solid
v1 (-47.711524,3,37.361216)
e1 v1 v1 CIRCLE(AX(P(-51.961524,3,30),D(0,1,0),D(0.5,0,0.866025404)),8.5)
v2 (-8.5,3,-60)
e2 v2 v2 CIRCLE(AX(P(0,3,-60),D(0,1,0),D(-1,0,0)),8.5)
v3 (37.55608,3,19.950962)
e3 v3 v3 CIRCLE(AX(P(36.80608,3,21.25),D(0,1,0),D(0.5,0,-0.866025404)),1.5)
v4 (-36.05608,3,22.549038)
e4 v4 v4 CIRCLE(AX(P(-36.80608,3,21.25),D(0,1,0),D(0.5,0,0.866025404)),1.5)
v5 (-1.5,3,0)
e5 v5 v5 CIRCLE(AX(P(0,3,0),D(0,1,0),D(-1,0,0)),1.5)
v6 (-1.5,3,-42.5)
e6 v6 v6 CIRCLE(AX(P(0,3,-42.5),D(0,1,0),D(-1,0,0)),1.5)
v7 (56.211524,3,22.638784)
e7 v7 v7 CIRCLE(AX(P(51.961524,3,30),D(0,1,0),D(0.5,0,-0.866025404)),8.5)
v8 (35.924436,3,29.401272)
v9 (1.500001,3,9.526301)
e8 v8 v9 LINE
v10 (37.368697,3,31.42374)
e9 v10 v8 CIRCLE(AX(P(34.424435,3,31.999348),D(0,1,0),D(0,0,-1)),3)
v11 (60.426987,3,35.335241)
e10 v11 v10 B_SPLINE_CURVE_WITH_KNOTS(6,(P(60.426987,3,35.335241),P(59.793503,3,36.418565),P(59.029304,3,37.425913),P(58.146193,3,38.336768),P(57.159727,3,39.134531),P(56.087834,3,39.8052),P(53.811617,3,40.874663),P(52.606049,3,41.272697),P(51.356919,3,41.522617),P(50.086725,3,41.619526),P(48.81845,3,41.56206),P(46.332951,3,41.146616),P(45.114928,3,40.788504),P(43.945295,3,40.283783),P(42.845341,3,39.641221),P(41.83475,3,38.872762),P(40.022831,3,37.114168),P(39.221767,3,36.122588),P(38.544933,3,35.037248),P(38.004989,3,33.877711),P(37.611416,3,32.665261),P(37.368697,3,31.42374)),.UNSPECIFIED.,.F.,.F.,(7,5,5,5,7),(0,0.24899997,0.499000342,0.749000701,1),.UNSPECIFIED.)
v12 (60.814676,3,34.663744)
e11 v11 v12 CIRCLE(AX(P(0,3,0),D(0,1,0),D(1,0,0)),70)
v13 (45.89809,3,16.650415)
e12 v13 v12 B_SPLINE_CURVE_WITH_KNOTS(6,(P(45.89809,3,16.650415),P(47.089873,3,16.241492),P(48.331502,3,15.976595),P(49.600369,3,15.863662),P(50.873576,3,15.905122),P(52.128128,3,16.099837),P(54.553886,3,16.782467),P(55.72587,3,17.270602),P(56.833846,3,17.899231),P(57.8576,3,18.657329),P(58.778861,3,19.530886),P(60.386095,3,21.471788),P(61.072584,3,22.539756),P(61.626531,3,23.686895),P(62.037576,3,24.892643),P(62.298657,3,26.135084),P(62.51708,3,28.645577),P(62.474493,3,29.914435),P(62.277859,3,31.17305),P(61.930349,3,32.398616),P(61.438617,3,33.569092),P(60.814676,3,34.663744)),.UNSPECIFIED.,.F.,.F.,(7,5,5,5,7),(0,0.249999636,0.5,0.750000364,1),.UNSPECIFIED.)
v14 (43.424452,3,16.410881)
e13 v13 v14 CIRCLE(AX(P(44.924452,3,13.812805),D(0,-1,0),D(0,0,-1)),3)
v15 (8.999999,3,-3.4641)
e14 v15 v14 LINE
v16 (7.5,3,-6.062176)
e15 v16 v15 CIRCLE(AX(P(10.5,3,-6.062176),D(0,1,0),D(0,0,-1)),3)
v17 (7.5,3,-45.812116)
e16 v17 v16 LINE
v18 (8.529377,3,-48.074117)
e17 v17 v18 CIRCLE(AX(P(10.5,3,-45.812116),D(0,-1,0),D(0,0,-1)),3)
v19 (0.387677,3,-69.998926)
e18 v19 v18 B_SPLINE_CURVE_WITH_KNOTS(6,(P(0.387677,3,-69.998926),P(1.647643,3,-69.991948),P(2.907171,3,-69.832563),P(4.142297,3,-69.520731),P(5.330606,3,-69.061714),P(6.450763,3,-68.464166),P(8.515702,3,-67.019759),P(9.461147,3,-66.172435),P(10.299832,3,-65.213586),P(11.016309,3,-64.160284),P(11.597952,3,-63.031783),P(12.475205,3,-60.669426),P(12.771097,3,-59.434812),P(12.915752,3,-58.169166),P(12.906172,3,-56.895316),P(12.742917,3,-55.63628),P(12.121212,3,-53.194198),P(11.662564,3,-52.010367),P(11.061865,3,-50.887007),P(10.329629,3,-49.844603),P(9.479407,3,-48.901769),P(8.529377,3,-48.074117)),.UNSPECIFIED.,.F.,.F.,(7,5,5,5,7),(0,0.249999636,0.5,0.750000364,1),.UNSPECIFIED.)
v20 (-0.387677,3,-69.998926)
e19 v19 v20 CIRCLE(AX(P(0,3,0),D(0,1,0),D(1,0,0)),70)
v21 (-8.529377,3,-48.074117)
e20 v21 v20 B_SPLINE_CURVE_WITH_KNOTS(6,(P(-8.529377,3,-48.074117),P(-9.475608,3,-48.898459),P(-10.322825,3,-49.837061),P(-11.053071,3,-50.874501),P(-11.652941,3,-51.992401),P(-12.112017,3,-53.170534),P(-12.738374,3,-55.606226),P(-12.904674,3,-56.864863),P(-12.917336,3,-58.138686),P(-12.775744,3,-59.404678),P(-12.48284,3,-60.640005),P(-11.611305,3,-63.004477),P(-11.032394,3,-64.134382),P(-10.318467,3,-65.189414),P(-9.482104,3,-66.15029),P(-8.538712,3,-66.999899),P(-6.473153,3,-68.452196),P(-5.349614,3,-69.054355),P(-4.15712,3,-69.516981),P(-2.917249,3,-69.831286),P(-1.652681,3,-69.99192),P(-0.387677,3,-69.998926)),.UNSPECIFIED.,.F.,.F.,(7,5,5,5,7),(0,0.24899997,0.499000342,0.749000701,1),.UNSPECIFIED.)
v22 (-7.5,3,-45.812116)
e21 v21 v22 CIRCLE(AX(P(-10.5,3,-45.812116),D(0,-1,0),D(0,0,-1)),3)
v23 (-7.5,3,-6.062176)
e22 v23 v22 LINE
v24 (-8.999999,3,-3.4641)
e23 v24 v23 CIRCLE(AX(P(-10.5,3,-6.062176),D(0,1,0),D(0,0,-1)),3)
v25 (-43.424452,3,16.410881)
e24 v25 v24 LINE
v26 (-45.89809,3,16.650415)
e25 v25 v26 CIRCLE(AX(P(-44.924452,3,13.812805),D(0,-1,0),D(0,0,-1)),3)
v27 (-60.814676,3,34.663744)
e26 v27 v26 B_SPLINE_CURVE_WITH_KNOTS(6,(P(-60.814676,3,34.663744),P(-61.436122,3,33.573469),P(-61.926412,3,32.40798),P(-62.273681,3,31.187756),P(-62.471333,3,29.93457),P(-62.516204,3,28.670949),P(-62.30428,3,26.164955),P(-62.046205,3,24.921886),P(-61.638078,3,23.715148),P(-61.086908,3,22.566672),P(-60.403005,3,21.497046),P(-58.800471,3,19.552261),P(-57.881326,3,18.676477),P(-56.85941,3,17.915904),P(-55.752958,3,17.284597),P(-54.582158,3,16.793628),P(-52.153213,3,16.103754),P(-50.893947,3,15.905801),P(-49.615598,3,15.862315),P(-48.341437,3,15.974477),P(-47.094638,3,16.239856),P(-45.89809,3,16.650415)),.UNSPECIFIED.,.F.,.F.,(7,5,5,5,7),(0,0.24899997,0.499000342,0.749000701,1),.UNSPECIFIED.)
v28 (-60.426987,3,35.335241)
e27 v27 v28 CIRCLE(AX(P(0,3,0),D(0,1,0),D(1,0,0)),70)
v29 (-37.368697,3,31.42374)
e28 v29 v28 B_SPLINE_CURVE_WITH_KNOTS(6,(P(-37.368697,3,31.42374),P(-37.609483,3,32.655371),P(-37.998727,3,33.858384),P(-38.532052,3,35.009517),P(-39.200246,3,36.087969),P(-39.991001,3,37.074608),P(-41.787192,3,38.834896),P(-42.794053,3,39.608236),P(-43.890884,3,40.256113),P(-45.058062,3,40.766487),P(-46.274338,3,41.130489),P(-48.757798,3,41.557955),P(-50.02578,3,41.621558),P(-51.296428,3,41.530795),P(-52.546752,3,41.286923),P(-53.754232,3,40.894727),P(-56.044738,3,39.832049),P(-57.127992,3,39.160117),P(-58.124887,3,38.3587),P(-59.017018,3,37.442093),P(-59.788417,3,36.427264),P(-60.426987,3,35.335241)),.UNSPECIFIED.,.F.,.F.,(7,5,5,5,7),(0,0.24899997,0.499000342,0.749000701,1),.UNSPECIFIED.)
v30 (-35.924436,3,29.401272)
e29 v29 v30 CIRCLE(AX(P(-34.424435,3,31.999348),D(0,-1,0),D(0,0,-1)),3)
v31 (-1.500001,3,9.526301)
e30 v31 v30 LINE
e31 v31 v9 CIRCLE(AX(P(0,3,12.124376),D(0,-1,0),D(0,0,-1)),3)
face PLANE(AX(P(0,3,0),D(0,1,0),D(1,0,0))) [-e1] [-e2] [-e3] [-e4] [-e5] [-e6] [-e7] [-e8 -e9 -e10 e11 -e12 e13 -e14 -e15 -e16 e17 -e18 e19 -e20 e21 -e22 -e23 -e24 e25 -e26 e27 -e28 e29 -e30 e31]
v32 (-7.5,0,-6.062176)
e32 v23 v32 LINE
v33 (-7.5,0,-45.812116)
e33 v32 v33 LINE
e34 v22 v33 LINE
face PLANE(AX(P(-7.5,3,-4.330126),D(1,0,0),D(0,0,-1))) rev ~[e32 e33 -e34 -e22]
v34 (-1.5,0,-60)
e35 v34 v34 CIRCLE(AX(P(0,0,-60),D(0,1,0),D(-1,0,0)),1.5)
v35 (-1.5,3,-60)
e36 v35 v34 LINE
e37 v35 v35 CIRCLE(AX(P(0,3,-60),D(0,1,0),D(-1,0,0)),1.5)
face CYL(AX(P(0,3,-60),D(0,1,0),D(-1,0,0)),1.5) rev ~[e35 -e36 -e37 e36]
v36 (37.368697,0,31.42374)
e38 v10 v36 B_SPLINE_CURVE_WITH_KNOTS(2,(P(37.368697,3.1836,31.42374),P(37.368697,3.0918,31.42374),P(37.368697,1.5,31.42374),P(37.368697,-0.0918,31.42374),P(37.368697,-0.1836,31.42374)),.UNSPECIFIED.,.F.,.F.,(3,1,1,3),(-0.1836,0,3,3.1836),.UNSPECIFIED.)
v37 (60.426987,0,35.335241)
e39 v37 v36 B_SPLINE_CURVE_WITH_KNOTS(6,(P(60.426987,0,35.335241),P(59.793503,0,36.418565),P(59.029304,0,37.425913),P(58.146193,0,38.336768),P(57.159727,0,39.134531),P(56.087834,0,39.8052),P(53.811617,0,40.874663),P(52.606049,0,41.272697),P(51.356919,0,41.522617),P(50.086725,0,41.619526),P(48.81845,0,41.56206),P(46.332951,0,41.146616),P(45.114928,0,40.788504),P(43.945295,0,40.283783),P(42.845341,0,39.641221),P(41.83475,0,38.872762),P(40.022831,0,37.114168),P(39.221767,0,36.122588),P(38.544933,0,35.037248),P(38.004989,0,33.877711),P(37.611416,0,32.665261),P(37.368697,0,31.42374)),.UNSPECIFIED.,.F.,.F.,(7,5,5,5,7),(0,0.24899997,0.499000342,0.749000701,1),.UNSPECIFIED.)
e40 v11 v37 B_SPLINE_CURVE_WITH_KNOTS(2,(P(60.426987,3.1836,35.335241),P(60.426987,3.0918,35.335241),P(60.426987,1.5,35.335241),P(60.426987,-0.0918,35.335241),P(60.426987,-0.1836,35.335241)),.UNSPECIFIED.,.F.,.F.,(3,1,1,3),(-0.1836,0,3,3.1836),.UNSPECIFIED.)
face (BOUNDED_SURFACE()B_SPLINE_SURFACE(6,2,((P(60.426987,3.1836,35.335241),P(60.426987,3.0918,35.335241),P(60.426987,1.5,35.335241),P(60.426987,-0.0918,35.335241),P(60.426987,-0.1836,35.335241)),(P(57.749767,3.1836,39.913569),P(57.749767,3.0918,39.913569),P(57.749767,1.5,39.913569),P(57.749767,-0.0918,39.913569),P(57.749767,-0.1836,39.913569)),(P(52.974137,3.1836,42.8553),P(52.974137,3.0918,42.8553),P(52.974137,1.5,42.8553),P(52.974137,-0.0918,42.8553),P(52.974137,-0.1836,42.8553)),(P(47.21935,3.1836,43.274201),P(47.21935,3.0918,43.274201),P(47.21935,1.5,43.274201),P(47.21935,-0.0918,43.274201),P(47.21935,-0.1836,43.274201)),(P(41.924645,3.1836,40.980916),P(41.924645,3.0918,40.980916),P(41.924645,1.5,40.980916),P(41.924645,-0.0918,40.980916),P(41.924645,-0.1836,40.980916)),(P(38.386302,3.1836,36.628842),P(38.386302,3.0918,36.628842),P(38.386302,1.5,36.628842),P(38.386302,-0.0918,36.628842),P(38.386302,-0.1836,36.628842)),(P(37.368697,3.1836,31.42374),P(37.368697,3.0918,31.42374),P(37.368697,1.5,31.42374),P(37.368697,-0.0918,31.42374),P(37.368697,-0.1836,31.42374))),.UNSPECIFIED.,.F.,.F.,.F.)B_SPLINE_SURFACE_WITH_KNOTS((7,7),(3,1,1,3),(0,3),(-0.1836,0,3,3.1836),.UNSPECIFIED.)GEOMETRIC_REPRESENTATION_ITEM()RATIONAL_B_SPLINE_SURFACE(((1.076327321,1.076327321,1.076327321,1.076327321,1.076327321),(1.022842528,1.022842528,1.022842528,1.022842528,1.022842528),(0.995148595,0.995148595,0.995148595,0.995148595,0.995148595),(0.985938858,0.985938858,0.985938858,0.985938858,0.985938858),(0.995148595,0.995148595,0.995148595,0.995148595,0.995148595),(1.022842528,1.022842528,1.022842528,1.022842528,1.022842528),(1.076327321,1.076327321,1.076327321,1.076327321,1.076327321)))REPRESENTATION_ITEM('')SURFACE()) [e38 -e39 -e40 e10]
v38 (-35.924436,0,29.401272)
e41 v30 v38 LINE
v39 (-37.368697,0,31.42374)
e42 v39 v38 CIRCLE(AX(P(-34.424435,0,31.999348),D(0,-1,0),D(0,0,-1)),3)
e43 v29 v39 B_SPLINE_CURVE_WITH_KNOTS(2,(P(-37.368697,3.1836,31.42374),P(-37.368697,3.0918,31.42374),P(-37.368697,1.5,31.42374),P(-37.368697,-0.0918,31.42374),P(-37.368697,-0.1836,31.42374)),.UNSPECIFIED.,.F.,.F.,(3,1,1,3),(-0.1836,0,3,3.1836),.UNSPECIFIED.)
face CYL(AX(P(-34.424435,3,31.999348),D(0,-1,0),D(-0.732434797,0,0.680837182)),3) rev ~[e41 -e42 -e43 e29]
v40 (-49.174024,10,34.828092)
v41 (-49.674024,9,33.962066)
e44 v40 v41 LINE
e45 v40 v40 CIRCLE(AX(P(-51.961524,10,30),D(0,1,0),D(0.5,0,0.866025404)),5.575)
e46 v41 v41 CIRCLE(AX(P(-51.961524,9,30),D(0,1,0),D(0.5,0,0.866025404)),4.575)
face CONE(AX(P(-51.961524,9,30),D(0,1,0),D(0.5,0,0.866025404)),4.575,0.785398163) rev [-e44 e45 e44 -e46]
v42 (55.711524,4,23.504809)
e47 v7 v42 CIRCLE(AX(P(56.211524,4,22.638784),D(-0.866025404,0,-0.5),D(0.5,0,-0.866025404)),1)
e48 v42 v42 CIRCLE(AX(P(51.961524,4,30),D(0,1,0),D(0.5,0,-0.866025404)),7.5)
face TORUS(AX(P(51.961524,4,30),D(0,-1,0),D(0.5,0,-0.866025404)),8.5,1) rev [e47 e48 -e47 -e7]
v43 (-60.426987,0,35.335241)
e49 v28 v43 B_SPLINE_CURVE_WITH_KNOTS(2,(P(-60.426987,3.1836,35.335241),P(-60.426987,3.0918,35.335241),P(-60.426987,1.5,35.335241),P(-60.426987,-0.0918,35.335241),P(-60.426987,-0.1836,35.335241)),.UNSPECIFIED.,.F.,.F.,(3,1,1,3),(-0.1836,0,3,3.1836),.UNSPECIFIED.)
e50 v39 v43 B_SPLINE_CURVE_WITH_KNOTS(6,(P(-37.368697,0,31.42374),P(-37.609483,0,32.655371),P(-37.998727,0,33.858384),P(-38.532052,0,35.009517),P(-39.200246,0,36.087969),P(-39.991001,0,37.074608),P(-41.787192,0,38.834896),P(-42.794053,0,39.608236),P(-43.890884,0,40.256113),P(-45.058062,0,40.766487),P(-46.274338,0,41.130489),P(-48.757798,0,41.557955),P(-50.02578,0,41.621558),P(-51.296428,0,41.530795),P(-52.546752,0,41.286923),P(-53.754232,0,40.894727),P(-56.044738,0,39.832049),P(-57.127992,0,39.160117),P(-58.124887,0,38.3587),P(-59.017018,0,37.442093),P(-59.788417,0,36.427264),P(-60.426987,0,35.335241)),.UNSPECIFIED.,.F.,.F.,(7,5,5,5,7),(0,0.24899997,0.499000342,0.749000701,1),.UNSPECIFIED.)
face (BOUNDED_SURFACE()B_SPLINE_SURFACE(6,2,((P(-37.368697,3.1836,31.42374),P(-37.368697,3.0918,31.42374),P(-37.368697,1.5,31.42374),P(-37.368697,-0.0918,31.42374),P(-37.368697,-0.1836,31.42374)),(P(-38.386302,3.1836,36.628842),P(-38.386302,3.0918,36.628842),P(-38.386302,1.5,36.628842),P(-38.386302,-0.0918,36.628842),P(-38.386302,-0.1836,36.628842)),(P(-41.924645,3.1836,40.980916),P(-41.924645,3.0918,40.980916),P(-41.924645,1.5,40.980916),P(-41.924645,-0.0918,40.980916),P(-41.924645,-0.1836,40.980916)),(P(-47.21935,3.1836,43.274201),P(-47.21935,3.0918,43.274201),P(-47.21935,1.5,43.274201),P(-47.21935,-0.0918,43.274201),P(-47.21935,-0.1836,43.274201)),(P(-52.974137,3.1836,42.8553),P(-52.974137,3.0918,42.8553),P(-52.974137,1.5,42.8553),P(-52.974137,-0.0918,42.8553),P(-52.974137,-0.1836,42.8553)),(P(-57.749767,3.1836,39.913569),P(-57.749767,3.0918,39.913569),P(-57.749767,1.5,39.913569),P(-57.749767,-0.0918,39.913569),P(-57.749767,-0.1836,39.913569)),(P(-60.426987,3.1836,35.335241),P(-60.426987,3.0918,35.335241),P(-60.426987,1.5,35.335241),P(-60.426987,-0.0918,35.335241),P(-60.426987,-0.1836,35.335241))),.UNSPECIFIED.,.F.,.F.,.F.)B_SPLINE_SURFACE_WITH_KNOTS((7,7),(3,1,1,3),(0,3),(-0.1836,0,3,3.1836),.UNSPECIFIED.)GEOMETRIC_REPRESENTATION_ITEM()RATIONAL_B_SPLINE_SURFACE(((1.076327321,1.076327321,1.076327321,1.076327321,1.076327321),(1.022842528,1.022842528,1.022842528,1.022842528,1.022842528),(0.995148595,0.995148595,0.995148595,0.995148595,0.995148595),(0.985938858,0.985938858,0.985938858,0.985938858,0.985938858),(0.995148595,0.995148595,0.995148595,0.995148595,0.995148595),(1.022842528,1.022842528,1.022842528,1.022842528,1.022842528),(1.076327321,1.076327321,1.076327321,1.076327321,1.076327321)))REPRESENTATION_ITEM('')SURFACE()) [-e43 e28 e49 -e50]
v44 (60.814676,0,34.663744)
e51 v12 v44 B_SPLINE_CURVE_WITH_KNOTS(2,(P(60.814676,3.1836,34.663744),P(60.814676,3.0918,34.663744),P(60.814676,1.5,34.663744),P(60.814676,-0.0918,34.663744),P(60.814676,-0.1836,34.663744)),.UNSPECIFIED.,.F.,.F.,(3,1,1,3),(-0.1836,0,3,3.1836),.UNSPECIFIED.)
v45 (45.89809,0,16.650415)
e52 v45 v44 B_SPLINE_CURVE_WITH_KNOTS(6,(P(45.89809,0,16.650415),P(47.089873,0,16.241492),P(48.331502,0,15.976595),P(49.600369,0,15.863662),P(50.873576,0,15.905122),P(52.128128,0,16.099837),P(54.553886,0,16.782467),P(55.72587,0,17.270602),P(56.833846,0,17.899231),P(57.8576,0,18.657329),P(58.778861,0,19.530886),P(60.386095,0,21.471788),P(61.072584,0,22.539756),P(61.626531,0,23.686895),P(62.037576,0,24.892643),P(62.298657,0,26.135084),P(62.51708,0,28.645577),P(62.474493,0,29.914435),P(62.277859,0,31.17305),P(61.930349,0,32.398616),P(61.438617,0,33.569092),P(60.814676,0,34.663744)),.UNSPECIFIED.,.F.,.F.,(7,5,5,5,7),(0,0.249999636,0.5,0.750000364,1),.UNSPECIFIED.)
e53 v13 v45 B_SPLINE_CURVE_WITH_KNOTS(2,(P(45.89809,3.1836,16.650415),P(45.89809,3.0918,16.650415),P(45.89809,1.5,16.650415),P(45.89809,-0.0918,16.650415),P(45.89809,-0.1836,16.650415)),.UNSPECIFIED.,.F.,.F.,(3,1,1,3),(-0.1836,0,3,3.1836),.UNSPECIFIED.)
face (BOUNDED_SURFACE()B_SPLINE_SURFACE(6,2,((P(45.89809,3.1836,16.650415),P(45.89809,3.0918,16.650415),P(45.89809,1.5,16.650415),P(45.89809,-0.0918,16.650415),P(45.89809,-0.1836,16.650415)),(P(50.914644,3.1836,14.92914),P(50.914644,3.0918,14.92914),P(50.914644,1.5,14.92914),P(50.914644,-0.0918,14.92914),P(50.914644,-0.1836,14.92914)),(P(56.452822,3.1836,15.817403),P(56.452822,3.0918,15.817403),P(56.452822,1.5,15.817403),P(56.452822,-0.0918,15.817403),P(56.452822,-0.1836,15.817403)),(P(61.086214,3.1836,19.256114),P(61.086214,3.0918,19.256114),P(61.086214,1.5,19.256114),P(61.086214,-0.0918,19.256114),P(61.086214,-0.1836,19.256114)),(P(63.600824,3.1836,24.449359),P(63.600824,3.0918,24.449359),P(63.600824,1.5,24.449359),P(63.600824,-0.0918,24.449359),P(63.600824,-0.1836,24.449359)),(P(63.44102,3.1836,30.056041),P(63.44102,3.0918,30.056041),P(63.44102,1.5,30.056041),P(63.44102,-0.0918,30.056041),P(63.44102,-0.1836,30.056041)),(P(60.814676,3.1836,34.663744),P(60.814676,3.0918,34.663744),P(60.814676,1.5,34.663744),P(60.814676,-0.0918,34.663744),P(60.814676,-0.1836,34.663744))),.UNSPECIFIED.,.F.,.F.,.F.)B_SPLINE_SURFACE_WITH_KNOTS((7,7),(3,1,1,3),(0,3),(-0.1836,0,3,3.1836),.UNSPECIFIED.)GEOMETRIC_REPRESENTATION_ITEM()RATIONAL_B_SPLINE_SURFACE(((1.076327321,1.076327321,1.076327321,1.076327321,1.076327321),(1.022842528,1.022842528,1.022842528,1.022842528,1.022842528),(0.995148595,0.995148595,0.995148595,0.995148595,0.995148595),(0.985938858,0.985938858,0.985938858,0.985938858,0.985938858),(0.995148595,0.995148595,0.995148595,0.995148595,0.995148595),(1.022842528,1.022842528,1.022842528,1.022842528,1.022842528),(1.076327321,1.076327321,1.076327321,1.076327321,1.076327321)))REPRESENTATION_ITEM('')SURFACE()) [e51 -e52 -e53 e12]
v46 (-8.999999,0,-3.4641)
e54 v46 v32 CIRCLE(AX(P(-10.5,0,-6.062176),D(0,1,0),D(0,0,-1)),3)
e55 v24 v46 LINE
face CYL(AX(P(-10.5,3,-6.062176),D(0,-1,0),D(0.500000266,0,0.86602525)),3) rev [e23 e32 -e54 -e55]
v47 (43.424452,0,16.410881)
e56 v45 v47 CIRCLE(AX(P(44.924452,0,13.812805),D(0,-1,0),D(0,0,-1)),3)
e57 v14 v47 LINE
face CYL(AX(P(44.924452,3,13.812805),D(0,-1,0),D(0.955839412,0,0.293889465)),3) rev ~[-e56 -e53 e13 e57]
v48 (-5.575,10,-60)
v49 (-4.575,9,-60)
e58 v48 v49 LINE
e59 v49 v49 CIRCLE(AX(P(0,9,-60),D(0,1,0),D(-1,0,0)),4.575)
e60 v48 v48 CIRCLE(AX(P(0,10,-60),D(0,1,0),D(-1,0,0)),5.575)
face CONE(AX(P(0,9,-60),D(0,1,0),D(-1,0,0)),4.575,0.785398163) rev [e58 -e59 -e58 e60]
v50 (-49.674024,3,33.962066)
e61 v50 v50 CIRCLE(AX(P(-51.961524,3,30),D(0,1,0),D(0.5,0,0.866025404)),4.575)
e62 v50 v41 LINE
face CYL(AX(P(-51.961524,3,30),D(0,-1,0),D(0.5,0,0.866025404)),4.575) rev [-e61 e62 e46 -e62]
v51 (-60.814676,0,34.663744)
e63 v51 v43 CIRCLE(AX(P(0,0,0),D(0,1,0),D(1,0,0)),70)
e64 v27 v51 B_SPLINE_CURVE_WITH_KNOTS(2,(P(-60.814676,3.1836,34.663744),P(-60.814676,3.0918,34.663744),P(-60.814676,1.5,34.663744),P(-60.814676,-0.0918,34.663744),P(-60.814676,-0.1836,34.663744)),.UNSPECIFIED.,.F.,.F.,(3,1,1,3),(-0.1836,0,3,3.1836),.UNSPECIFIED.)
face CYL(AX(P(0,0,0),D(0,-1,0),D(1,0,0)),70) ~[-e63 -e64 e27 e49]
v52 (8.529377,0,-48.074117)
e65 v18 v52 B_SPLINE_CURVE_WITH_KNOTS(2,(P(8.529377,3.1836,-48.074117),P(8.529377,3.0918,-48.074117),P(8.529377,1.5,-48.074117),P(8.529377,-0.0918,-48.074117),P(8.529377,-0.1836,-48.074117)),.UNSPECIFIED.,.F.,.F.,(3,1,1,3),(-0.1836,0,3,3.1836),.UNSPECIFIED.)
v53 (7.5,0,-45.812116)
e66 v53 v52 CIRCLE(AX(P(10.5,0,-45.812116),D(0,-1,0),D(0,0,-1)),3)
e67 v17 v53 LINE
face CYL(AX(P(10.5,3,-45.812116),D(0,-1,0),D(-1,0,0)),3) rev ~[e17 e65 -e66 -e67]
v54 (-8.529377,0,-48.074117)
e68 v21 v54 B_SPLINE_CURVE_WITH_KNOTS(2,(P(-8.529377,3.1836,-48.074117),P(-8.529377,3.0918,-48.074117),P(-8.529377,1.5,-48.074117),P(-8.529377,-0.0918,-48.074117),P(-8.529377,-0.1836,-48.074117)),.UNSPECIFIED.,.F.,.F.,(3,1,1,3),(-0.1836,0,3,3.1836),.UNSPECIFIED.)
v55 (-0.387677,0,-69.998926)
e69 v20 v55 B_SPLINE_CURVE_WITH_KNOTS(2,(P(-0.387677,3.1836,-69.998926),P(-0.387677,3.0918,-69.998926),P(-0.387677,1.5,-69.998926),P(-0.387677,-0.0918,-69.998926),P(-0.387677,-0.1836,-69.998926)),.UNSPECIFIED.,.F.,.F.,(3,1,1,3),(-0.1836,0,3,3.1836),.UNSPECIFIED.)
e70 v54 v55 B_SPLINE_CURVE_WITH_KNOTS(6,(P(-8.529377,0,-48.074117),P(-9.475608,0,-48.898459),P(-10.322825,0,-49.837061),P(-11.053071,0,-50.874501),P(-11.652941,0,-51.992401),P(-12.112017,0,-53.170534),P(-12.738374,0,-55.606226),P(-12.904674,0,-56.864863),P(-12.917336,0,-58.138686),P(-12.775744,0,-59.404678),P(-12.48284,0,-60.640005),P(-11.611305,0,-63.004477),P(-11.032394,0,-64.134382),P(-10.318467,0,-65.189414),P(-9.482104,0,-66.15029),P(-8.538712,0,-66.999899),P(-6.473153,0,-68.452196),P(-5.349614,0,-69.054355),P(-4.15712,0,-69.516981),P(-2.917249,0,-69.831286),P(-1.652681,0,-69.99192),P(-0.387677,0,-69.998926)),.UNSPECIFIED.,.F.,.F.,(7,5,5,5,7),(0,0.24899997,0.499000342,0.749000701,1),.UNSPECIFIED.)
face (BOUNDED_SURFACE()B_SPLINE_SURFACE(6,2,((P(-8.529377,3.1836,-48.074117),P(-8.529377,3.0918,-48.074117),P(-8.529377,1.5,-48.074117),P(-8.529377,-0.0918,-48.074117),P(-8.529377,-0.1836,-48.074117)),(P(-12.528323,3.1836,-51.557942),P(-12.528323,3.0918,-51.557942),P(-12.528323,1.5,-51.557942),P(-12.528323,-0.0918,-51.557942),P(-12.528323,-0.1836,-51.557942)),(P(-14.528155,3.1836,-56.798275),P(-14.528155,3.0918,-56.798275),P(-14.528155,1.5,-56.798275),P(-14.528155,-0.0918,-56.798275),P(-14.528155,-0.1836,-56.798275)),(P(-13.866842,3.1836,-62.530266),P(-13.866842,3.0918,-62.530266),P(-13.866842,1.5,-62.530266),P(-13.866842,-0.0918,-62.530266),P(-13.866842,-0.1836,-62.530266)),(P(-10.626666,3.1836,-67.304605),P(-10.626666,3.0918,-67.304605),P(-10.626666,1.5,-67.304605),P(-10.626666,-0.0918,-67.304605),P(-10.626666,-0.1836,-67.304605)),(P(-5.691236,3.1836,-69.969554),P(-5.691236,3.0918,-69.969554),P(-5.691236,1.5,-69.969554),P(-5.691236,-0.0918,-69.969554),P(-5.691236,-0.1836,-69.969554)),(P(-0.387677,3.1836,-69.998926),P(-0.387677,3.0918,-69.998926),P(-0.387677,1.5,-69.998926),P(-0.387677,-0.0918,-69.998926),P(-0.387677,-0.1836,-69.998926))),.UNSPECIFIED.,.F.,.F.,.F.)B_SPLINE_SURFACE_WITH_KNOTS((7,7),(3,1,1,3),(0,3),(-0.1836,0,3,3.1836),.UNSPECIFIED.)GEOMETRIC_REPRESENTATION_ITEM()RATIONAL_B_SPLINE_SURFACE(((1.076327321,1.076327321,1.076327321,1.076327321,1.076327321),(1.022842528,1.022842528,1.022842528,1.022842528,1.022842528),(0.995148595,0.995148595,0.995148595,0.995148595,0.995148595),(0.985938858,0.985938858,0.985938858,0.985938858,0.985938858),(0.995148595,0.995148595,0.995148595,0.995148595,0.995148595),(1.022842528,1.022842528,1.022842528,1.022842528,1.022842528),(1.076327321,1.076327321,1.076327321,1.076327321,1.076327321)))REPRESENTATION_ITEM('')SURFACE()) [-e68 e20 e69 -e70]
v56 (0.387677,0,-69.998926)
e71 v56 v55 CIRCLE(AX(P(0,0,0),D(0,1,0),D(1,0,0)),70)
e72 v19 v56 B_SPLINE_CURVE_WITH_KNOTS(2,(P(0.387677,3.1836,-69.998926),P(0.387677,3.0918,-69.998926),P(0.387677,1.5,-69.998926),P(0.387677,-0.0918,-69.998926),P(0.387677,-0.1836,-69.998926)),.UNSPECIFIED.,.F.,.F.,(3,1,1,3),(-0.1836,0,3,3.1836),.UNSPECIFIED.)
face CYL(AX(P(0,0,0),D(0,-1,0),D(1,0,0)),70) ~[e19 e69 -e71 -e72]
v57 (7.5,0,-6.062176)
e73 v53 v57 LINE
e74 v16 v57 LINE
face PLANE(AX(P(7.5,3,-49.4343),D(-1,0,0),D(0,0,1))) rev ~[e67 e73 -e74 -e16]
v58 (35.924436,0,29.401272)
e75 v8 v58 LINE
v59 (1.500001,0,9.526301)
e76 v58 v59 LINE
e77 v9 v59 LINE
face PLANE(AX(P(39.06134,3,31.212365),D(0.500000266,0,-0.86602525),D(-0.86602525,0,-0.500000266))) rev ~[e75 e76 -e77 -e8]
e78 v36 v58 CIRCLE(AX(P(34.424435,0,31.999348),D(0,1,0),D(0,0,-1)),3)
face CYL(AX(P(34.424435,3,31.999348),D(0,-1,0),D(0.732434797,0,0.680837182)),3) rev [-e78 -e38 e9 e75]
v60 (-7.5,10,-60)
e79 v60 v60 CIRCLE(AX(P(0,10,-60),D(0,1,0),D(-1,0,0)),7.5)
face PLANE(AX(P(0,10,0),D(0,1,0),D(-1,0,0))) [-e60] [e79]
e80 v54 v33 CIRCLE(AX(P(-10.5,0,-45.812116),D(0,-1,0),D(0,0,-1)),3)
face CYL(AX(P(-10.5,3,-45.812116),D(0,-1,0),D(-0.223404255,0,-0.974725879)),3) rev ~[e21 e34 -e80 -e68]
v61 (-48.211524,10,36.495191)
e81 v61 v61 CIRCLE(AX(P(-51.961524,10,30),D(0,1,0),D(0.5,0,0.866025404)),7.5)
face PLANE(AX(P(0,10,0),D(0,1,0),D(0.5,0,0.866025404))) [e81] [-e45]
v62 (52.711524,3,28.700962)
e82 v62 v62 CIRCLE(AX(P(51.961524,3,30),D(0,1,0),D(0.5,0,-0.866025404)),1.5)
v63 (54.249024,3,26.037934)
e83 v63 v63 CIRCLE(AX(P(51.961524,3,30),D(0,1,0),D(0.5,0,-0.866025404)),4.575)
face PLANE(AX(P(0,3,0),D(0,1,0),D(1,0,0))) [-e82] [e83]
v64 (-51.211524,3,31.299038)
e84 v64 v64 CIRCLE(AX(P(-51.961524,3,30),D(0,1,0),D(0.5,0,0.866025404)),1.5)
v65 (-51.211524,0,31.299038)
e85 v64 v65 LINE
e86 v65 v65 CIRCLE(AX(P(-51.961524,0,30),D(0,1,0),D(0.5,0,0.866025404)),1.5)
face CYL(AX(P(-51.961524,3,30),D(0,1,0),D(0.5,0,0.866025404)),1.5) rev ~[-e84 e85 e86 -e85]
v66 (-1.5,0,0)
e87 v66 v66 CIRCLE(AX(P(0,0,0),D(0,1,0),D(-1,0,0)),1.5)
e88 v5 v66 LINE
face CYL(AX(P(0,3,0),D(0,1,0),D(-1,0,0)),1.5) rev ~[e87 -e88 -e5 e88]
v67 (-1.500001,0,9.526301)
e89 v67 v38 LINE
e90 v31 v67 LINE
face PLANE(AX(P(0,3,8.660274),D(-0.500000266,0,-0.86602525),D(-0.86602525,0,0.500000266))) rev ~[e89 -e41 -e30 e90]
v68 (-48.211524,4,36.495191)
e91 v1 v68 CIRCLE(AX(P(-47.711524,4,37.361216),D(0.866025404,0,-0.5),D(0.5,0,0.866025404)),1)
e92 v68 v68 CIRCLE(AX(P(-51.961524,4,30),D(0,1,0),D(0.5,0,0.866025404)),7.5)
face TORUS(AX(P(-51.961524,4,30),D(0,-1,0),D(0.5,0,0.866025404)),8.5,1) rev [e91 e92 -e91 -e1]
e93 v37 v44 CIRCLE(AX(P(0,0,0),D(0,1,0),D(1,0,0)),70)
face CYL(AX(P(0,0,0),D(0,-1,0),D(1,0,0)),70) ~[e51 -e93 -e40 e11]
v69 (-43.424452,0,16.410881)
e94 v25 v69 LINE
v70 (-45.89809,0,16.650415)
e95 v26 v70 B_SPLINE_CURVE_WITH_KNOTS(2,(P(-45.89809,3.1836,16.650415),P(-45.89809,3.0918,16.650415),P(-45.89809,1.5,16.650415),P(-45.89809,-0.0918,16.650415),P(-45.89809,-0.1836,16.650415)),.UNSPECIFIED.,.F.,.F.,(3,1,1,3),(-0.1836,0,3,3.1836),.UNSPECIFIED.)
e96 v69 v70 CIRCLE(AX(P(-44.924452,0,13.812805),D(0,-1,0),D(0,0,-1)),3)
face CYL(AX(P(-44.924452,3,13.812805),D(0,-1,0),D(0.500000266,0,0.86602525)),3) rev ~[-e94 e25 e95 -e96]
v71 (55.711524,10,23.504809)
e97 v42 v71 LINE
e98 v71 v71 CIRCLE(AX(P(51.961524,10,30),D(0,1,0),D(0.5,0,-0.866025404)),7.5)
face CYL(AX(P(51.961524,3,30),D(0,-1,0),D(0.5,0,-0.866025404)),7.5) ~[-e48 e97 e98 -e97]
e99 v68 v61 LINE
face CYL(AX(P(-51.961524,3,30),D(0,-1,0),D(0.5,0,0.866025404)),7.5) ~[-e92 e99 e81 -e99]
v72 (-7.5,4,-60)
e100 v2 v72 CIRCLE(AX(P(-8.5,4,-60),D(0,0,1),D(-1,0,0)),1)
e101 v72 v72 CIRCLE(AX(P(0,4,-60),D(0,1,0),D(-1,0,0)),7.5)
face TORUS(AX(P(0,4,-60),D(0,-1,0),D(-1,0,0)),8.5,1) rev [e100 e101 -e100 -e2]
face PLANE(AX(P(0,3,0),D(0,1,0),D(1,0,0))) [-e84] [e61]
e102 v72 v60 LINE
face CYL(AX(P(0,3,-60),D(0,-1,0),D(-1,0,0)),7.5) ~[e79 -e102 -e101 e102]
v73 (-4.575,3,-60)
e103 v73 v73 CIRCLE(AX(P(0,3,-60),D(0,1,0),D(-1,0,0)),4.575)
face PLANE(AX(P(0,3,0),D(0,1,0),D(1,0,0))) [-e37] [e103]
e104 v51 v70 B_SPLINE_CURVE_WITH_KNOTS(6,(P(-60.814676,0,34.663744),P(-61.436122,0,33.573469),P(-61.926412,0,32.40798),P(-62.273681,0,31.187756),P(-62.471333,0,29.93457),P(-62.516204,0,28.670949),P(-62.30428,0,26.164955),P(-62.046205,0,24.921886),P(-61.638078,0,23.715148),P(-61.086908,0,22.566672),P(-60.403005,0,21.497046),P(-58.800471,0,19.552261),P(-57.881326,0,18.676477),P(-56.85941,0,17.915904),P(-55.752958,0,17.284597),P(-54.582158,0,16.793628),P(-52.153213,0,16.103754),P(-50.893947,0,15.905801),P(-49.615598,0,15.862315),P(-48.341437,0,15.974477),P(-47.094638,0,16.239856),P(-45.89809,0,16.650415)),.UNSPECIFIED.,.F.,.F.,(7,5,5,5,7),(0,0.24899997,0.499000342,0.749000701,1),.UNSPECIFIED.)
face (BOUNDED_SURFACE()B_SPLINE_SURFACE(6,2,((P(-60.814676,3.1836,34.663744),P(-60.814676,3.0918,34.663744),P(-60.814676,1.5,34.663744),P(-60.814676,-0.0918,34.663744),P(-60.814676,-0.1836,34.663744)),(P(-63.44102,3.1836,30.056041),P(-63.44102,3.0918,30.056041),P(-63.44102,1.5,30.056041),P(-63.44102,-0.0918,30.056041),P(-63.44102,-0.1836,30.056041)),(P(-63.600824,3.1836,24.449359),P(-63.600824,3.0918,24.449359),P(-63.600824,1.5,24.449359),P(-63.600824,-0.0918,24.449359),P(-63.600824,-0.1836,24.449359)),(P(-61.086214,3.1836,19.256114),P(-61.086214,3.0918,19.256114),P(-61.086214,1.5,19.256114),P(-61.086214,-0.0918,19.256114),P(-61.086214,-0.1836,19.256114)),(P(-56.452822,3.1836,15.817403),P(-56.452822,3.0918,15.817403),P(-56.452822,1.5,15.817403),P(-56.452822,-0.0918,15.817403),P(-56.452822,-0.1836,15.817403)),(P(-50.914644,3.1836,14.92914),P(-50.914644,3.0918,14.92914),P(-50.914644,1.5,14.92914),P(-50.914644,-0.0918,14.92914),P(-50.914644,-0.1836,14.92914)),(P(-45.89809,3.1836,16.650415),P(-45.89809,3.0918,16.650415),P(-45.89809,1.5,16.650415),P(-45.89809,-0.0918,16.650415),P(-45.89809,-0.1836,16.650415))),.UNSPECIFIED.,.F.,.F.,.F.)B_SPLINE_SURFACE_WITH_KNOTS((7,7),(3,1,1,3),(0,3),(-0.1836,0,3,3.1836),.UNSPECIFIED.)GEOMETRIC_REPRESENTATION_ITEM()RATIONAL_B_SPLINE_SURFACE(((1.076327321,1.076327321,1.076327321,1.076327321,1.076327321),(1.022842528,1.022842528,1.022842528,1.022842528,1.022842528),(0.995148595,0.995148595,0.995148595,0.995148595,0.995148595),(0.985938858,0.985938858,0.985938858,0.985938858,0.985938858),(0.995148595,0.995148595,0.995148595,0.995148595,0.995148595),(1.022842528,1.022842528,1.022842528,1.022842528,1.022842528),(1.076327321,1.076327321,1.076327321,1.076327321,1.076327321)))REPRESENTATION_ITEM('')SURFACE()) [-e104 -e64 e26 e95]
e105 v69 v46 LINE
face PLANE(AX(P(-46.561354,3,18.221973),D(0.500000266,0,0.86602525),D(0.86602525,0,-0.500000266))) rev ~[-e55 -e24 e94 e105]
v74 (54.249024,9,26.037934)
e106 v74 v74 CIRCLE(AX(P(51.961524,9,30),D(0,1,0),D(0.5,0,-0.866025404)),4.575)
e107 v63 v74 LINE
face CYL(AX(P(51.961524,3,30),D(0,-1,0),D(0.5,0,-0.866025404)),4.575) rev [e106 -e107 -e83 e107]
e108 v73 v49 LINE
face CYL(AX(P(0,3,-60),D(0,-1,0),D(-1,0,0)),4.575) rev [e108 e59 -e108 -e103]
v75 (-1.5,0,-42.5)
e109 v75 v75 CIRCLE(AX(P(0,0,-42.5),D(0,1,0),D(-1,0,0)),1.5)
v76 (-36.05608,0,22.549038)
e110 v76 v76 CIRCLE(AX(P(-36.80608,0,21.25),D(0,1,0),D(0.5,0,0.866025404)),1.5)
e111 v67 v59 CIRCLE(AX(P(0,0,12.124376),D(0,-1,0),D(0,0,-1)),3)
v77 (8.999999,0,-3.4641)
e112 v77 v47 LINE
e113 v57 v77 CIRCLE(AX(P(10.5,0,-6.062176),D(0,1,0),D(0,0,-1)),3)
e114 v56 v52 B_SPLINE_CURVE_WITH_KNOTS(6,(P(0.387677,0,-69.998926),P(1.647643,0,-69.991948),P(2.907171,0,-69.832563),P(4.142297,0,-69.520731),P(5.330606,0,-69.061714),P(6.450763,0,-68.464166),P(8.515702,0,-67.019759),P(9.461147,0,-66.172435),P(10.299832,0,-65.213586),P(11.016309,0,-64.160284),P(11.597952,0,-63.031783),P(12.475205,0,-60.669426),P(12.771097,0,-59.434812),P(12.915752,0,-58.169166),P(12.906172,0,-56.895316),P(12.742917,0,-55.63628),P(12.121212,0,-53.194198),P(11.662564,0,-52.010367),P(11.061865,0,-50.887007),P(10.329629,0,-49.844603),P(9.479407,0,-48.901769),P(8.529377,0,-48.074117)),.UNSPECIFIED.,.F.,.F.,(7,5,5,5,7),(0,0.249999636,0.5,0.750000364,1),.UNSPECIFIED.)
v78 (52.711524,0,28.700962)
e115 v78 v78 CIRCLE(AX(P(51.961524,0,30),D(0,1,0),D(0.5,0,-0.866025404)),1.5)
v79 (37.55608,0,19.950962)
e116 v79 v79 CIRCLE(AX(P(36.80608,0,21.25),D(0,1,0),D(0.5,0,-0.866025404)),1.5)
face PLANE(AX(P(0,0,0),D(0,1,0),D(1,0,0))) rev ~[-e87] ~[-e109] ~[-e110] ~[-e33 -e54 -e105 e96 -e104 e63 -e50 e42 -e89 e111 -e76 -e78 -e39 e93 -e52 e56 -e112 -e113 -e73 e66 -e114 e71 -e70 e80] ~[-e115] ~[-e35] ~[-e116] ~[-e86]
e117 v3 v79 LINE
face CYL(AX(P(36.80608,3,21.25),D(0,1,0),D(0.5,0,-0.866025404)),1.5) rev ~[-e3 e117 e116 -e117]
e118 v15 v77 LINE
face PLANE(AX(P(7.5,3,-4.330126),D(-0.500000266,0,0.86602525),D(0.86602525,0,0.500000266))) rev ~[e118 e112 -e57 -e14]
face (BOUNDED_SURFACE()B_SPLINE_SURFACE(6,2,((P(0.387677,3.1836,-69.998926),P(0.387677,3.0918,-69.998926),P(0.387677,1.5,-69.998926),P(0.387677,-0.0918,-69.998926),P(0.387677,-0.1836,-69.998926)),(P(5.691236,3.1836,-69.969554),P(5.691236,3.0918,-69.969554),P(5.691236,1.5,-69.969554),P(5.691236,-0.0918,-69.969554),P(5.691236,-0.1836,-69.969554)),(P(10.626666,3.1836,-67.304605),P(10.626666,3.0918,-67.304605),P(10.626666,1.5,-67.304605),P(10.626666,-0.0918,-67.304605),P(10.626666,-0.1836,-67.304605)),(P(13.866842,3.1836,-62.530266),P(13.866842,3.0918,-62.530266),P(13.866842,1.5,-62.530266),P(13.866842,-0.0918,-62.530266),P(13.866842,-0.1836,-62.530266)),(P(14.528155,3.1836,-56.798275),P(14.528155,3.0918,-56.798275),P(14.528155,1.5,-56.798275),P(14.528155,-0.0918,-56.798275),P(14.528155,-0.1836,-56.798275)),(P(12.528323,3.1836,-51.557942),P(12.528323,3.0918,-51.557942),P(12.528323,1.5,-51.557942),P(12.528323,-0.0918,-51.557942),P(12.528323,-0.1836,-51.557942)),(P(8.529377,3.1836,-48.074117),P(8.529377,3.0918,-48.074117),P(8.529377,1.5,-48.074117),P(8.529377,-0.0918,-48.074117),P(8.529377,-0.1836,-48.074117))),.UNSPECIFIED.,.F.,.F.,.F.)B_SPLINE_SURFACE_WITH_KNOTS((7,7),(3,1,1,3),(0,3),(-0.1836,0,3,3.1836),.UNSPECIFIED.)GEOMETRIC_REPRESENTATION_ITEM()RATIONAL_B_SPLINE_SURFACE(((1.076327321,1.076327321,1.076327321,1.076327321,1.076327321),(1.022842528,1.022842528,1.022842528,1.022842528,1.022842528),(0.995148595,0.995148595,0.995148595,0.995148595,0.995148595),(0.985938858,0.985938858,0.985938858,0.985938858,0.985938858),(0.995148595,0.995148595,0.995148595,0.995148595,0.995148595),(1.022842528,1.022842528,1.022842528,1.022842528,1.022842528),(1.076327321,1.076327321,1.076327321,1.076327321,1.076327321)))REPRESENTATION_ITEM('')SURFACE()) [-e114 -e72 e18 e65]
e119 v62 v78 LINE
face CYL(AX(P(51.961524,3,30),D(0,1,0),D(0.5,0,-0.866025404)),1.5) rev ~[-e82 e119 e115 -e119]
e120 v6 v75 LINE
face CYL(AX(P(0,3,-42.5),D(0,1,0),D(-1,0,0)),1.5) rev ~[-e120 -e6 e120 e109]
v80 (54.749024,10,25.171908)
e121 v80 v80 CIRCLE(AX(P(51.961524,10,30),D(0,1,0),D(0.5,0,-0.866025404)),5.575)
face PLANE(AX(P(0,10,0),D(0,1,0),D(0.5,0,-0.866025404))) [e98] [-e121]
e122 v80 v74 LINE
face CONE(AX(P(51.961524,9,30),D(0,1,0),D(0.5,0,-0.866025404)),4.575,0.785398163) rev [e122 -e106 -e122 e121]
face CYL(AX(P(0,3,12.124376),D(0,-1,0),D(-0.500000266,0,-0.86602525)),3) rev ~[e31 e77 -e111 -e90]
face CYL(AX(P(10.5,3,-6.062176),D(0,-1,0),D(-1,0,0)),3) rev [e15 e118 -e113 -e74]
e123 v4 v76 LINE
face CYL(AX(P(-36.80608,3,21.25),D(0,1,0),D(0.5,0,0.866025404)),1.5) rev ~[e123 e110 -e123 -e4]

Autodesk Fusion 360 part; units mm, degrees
sketch "Sketch1" plane through (0, 0, 0) normal (0, 1, 0) x (1, 0, 0)
  circle A0 centre (0, 0) radius 70
  dimension "d1" = 140
extrude "Extrude1" add sketch "Sketch1" along normal blind 3
sketch "Sketch2" plane through (0, 3, 0) normal (0, 1, 0) x (-1, 0, 0)
  circle A0 centre (0, 0) radius 70
  line L0 (0, -70) -> (0, 70) construction
  line L1 (70, 0) -> (-70, 0) construction
  circle A1 centre (0, 0) radius 60 construction
  circle A2 centre (0, -60) radius 4.575
  circle A3 centre (0, -60) radius 7.5
  circle A4 centre (0, 60) radius 1.5
  dimension "d4" = 120
  dimension "d5" = 9.15
  dimension "d6" = 15
  dimension "d16" = 3
extrude "Extrude2" add sketch "Sketch2" along normal blind 7 contours A3
sketch "Sketch3" plane through (0, 3, 0) normal (0, 1, 0) x (-1, 0, 0)
  circle A0 centre (0, -60) radius 4.575
  circle A1 centre (0, -60) radius 1.5
  dimension "d9" = 3
extrude "Extrude3" cut sketch "Sketch3" against normal blind 25 contours A1
pattern_circular "C-Pattern1" count 3 over 360 about axis through (0, 1.75, 0) along (0, 1, 0) of "Extrude2"
pattern_circular "C-Pattern2" count 3 over 360 about axis through (0, 1.75, 0) along (0, 1, 0) of "Extrude3"
extrude "Extrude4" cut sketch "Sketch2" against normal blind 19 contours A4
pattern_circular "C-Pattern3" count 3 over 360 about axis through (0, 1.75, 0) along (0, 1, 0) of "Extrude4"
sketch "Sketch4" plane through (0, 3, 0) normal (0, 1, 0) x (-1, 0, 0)
  circle A0 centre (51.9615, -30) radius 1.5
  circle A1 centre (-51.9615, -30) radius 1.5
  circle A2 centre (0, 60) radius 1.5
  circle A3 centre (51.9615, 30) radius 7.5
  circle A4 centre (0, 0) radius 70
  circle A5 centre (0, -60) radius 7.5
  circle A6 centre (-51.9615, 30) radius 7.5
  circle A7 centre (0, 0) radius 7.5
  circle A8 centre (0, 0) radius 50
  line L0 (7.5, -50.9302) -> (-7.5, -50.9302)
  line L1 (-7.5, -50.9302) -> (-7.5, -2.3436)
  line L2 (-7.5, -2.3436) -> (7.5, -2.3436)
  line L3 (7.5, -2.3436) -> (7.5, -50.9302)
  line L4 (7.5, -50.9302) -> (-7.5, -2.3436) construction
  line L5 (-7.5, -50.9302) -> (7.5, -2.3436) construction
  line L6 (-1.7204, 7.667) -> (40.3568, 31.9603)
  line L7 (47.8568, 18.9699) -> (5.7796, -5.3234)
  line L8 (-5.7796, -5.3234) -> (-47.8568, 18.9699)
  line L9 (-40.3568, 31.9603) -> (1.7204, 7.667)
  point P0 (0, -26.6369)
  dimension "d21" = 15
  dimension "d22" = 100
  dimension "d23" = 15
  dimension "d25" = 360
extrude "Extrude5" cut sketch "Sketch4" against normal blind 7 contours A8 L1 L8 | A8 L3 L7 | A8 L6 L9
sketch "Sketch5" plane through (0, 3, 0) normal (0, 1, 0) x (-1, 0, 0)
  line L0 (7.5, -4.3301) -> (46.5614, 18.222)
  arc A0 (7.5, -49.4343) -> (46.5614, 18.222) centre (0, 0) ccw
  line L1 (7.5, -49.4343) -> (7.5, -4.3301)
  line L2 (-46.5614, 18.222) -> (-7.5, -4.3301)
  line L3 (-7.5, -4.3301) -> (-7.5, -49.4343)
  arc A1 (-46.5614, 18.222) -> (-7.5, -49.4343) centre (0, 0) ccw
  line L4 (0, 8.6603) -> (-39.0614, 31.2123)
  arc A2 (39.0614, 31.2123) -> (-39.0614, 31.2123) centre (0, 0) ccw
  line L5 (39.0614, 31.2123) -> (0, 8.6603)
  circle A3 centre (51.9615, -30) radius 1.5
  circle A4 centre (-51.9615, -30) radius 1.5
  circle A5 centre (0, 60) radius 1.5
  circle A6 centre (51.9615, 30) radius 7.5
  circle A7 centre (0, 0) radius 70
  circle A8 centre (0, -60) radius 7.5
  circle A9 centre (-51.9615, 30) radius 7.5
  circle A10 centre (0, 0) radius 42.5 construction
  circle A11 centre (0, -42.5) radius 1.5
  dimension "d28" = 85
  dimension "d29" = 3
extrude "Extrude6" cut sketch "Sketch5" against normal blind 16 contours A11
pattern_circular "C-Pattern4" count 3 over 360 about axis through (0, 1.75, 0) along (0, 1, 0) of "Extrude6"
fillet "Fillet1" radius 3 6 edges at (-7.5, 1.5, -49.4343) (7.5, 1.5, -49.4343) (-46.5614, 1.5, 18.222) (-39.0614, 1.5, 31.2123) (39.0614, 1.5, 31.2123) (46.5614, 1.5, 18.222)
sketch "Sketch6" plane through (0, 3, 0) normal (0, 1, 0) x (-1, 0, 0)
  circle A0 centre (-36.8061, 21.25) radius 1.5
  circle A1 centre (36.8061, 21.25) radius 1.5
  circle A2 centre (0, -42.5) radius 1.5
  line L0 (7.5, -4.3301) -> (43.4245, 16.4109)
  arc A3 (47.792, 14.6945) -> (43.4245, 16.4109) centre (44.9245, 13.8128) ccw
  arc A4 (11.1702, -48.7363) -> (47.792, 14.6945) centre (0, 0) ccw
  arc A5 (7.5, -45.8121) -> (11.1702, -48.7363) centre (10.5, -45.8121) ccw
  line L1 (7.5, -45.8121) -> (7.5, -4.3301)
  line L2 (-43.4245, 16.4109) -> (-7.5, -4.3301)
  line L3 (-7.5, -4.3301) -> (-7.5, -45.8121)
  arc A6 (-11.1702, -48.7363) -> (-7.5, -45.8121) centre (-10.5, -45.8121) ccw
  arc A7 (-47.792, 14.6945) -> (-11.1702, -48.7363) centre (0, 0) ccw
  arc A8 (-43.4245, 16.4109) -> (-47.792, 14.6945) centre (-44.9245, 13.8128) ccw
  line L4 (0, 8.6603) -> (-35.9245, 29.4012)
  arc A9 (-36.6218, 34.0418) -> (-35.9245, 29.4012) centre (-34.4245, 31.9993) ccw
  arc A10 (36.6218, 34.0418) -> (-36.6218, 34.0418) centre (0, 0) ccw
  arc A11 (35.9245, 29.4012) -> (36.6218, 34.0418) centre (34.4245, 31.9993) ccw
  line L5 (35.9245, 29.4012) -> (0, 8.6603)
  circle A12 centre (51.9615, -30) radius 1.5
  circle A13 centre (-51.9615, -30) radius 1.5
  circle A14 centre (0, 60) radius 1.5
  circle A15 centre (51.9615, 30) radius 7.5
  circle A16 centre (0, 0) radius 70
  circle A17 centre (0, -60) radius 7.5
  circle A18 centre (-51.9615, 30) radius 7.5
  circle A19 centre (0, 0) radius 1.5
  dimension "d36" = 3
extrude "Extrude7" cut sketch "Sketch6" against normal blind 12 contours A19
fillet "Fillet2" radius 3 3 edges at (-7.5, 1.5, -4.3301) (7.5, 1.5, -4.3301) (0, 1.5, 8.6603)
fillet "Fillet3" radius 1 3 edges at (-53.109, 3, 22.5883) (46.1165, 3, 34.6996) (6.9925, 3, -57.2879)
chamfer "Chamfer1" distance 1 angle 45 3 edges at (4.2654, 10, -58.3456) (48.3961, 10, 32.8667) (-52.6615, 10, 25.4789)
sketch "Sketch7" plane through (0, 3, 0) normal (0, 1, 0) x (-1, 0, 0)
  circle A0 centre (-51.9615, 30) radius 8.5
  circle A1 centre (0, 0) radius 70
  circle A2 centre (0, 60) radius 1.5
  circle A3 centre (-51.9615, -30) radius 1.5
  circle A4 centre (51.9615, -30) radius 1.5
  line L0 (-1.5, 9.5263) -> (-35.9245, 29.4012)
  arc A5 (-36.6218, 34.0418) -> (-35.9245, 29.4012) centre (-34.4245, 31.9993) ccw
  arc A6 (36.6218, 34.0418) -> (-36.6218, 34.0418) centre (0, 0) ccw
  arc A7 (35.9245, 29.4012) -> (36.6218, 34.0418) centre (34.4245, 31.9993) ccw
  line L1 (35.9245, 29.4012) -> (1.5, 9.5263)
  arc A8 (-1.5, 9.5263) -> (1.5, 9.5263) centre (0, 12.1244) ccw
  line L2 (-43.4245, 16.4109) -> (-9, -3.4641)
  arc A9 (-7.5, -6.0622) -> (-9, -3.4641) centre (-10.5, -6.0622) ccw
  line L3 (-7.5, -6.0622) -> (-7.5, -45.8121)
  arc A10 (-11.1702, -48.7363) -> (-7.5, -45.8121) centre (-10.5, -45.8121) ccw
  arc A11 (-47.792, 14.6945) -> (-11.1702, -48.7363) centre (0, 0) ccw
  arc A12 (-43.4245, 16.4109) -> (-47.792, 14.6945) centre (-44.9245, 13.8128) ccw
  line L4 (9, -3.4641) -> (43.4245, 16.4109)
  arc A13 (47.792, 14.6945) -> (43.4245, 16.4109) centre (44.9245, 13.8128) ccw
  arc A14 (11.1702, -48.7363) -> (47.792, 14.6945) centre (0, 0) ccw
  arc A15 (7.5, -45.8121) -> (11.1702, -48.7363) centre (10.5, -45.8121) ccw
  line L5 (7.5, -45.8121) -> (7.5, -6.0622)
  arc A16 (9, -3.4641) -> (7.5, -6.0622) centre (10.5, -6.0622) ccw
  circle A17 centre (0, -42.5) radius 1.5
  circle A18 centre (36.8061, 21.25) radius 1.5
  circle A19 centre (-36.8061, 21.25) radius 1.5
  circle A20 centre (0, 0) radius 1.5
  circle A21 centre (51.9615, 30) radius 8.5
  circle A22 centre (0, -60) radius 8.5
  circle A23 centre (-51.9615, 30) radius 14.653
  circle A24 centre (51.9615, 30) radius 14.653
  circle A25 centre (0, -60) radius 14.653
extrude "Extrude8" cut sketch "Sketch7" against normal blind 10 contours A1 A13 A14 A15 A24 A25 | A1 A5 A6 A7 A23 A24 | A1 A10 A11 A12 A23 A25
fillet "Fillet4" radius 12.5 2 edges at (-65.5583, 1.5, 24.5378) (-54.0295, 1.5, 44.5063)
fillet "Fillet5" radius 12.5 2 edges at (-11.5288, 1.5, -69.0441) (11.5288, 1.5, -69.0441)
fillet "Fillet6" radius 12.5 2 edges at (65.5583, 1.5, 24.5378) (54.0295, 1.5, 44.5063)
